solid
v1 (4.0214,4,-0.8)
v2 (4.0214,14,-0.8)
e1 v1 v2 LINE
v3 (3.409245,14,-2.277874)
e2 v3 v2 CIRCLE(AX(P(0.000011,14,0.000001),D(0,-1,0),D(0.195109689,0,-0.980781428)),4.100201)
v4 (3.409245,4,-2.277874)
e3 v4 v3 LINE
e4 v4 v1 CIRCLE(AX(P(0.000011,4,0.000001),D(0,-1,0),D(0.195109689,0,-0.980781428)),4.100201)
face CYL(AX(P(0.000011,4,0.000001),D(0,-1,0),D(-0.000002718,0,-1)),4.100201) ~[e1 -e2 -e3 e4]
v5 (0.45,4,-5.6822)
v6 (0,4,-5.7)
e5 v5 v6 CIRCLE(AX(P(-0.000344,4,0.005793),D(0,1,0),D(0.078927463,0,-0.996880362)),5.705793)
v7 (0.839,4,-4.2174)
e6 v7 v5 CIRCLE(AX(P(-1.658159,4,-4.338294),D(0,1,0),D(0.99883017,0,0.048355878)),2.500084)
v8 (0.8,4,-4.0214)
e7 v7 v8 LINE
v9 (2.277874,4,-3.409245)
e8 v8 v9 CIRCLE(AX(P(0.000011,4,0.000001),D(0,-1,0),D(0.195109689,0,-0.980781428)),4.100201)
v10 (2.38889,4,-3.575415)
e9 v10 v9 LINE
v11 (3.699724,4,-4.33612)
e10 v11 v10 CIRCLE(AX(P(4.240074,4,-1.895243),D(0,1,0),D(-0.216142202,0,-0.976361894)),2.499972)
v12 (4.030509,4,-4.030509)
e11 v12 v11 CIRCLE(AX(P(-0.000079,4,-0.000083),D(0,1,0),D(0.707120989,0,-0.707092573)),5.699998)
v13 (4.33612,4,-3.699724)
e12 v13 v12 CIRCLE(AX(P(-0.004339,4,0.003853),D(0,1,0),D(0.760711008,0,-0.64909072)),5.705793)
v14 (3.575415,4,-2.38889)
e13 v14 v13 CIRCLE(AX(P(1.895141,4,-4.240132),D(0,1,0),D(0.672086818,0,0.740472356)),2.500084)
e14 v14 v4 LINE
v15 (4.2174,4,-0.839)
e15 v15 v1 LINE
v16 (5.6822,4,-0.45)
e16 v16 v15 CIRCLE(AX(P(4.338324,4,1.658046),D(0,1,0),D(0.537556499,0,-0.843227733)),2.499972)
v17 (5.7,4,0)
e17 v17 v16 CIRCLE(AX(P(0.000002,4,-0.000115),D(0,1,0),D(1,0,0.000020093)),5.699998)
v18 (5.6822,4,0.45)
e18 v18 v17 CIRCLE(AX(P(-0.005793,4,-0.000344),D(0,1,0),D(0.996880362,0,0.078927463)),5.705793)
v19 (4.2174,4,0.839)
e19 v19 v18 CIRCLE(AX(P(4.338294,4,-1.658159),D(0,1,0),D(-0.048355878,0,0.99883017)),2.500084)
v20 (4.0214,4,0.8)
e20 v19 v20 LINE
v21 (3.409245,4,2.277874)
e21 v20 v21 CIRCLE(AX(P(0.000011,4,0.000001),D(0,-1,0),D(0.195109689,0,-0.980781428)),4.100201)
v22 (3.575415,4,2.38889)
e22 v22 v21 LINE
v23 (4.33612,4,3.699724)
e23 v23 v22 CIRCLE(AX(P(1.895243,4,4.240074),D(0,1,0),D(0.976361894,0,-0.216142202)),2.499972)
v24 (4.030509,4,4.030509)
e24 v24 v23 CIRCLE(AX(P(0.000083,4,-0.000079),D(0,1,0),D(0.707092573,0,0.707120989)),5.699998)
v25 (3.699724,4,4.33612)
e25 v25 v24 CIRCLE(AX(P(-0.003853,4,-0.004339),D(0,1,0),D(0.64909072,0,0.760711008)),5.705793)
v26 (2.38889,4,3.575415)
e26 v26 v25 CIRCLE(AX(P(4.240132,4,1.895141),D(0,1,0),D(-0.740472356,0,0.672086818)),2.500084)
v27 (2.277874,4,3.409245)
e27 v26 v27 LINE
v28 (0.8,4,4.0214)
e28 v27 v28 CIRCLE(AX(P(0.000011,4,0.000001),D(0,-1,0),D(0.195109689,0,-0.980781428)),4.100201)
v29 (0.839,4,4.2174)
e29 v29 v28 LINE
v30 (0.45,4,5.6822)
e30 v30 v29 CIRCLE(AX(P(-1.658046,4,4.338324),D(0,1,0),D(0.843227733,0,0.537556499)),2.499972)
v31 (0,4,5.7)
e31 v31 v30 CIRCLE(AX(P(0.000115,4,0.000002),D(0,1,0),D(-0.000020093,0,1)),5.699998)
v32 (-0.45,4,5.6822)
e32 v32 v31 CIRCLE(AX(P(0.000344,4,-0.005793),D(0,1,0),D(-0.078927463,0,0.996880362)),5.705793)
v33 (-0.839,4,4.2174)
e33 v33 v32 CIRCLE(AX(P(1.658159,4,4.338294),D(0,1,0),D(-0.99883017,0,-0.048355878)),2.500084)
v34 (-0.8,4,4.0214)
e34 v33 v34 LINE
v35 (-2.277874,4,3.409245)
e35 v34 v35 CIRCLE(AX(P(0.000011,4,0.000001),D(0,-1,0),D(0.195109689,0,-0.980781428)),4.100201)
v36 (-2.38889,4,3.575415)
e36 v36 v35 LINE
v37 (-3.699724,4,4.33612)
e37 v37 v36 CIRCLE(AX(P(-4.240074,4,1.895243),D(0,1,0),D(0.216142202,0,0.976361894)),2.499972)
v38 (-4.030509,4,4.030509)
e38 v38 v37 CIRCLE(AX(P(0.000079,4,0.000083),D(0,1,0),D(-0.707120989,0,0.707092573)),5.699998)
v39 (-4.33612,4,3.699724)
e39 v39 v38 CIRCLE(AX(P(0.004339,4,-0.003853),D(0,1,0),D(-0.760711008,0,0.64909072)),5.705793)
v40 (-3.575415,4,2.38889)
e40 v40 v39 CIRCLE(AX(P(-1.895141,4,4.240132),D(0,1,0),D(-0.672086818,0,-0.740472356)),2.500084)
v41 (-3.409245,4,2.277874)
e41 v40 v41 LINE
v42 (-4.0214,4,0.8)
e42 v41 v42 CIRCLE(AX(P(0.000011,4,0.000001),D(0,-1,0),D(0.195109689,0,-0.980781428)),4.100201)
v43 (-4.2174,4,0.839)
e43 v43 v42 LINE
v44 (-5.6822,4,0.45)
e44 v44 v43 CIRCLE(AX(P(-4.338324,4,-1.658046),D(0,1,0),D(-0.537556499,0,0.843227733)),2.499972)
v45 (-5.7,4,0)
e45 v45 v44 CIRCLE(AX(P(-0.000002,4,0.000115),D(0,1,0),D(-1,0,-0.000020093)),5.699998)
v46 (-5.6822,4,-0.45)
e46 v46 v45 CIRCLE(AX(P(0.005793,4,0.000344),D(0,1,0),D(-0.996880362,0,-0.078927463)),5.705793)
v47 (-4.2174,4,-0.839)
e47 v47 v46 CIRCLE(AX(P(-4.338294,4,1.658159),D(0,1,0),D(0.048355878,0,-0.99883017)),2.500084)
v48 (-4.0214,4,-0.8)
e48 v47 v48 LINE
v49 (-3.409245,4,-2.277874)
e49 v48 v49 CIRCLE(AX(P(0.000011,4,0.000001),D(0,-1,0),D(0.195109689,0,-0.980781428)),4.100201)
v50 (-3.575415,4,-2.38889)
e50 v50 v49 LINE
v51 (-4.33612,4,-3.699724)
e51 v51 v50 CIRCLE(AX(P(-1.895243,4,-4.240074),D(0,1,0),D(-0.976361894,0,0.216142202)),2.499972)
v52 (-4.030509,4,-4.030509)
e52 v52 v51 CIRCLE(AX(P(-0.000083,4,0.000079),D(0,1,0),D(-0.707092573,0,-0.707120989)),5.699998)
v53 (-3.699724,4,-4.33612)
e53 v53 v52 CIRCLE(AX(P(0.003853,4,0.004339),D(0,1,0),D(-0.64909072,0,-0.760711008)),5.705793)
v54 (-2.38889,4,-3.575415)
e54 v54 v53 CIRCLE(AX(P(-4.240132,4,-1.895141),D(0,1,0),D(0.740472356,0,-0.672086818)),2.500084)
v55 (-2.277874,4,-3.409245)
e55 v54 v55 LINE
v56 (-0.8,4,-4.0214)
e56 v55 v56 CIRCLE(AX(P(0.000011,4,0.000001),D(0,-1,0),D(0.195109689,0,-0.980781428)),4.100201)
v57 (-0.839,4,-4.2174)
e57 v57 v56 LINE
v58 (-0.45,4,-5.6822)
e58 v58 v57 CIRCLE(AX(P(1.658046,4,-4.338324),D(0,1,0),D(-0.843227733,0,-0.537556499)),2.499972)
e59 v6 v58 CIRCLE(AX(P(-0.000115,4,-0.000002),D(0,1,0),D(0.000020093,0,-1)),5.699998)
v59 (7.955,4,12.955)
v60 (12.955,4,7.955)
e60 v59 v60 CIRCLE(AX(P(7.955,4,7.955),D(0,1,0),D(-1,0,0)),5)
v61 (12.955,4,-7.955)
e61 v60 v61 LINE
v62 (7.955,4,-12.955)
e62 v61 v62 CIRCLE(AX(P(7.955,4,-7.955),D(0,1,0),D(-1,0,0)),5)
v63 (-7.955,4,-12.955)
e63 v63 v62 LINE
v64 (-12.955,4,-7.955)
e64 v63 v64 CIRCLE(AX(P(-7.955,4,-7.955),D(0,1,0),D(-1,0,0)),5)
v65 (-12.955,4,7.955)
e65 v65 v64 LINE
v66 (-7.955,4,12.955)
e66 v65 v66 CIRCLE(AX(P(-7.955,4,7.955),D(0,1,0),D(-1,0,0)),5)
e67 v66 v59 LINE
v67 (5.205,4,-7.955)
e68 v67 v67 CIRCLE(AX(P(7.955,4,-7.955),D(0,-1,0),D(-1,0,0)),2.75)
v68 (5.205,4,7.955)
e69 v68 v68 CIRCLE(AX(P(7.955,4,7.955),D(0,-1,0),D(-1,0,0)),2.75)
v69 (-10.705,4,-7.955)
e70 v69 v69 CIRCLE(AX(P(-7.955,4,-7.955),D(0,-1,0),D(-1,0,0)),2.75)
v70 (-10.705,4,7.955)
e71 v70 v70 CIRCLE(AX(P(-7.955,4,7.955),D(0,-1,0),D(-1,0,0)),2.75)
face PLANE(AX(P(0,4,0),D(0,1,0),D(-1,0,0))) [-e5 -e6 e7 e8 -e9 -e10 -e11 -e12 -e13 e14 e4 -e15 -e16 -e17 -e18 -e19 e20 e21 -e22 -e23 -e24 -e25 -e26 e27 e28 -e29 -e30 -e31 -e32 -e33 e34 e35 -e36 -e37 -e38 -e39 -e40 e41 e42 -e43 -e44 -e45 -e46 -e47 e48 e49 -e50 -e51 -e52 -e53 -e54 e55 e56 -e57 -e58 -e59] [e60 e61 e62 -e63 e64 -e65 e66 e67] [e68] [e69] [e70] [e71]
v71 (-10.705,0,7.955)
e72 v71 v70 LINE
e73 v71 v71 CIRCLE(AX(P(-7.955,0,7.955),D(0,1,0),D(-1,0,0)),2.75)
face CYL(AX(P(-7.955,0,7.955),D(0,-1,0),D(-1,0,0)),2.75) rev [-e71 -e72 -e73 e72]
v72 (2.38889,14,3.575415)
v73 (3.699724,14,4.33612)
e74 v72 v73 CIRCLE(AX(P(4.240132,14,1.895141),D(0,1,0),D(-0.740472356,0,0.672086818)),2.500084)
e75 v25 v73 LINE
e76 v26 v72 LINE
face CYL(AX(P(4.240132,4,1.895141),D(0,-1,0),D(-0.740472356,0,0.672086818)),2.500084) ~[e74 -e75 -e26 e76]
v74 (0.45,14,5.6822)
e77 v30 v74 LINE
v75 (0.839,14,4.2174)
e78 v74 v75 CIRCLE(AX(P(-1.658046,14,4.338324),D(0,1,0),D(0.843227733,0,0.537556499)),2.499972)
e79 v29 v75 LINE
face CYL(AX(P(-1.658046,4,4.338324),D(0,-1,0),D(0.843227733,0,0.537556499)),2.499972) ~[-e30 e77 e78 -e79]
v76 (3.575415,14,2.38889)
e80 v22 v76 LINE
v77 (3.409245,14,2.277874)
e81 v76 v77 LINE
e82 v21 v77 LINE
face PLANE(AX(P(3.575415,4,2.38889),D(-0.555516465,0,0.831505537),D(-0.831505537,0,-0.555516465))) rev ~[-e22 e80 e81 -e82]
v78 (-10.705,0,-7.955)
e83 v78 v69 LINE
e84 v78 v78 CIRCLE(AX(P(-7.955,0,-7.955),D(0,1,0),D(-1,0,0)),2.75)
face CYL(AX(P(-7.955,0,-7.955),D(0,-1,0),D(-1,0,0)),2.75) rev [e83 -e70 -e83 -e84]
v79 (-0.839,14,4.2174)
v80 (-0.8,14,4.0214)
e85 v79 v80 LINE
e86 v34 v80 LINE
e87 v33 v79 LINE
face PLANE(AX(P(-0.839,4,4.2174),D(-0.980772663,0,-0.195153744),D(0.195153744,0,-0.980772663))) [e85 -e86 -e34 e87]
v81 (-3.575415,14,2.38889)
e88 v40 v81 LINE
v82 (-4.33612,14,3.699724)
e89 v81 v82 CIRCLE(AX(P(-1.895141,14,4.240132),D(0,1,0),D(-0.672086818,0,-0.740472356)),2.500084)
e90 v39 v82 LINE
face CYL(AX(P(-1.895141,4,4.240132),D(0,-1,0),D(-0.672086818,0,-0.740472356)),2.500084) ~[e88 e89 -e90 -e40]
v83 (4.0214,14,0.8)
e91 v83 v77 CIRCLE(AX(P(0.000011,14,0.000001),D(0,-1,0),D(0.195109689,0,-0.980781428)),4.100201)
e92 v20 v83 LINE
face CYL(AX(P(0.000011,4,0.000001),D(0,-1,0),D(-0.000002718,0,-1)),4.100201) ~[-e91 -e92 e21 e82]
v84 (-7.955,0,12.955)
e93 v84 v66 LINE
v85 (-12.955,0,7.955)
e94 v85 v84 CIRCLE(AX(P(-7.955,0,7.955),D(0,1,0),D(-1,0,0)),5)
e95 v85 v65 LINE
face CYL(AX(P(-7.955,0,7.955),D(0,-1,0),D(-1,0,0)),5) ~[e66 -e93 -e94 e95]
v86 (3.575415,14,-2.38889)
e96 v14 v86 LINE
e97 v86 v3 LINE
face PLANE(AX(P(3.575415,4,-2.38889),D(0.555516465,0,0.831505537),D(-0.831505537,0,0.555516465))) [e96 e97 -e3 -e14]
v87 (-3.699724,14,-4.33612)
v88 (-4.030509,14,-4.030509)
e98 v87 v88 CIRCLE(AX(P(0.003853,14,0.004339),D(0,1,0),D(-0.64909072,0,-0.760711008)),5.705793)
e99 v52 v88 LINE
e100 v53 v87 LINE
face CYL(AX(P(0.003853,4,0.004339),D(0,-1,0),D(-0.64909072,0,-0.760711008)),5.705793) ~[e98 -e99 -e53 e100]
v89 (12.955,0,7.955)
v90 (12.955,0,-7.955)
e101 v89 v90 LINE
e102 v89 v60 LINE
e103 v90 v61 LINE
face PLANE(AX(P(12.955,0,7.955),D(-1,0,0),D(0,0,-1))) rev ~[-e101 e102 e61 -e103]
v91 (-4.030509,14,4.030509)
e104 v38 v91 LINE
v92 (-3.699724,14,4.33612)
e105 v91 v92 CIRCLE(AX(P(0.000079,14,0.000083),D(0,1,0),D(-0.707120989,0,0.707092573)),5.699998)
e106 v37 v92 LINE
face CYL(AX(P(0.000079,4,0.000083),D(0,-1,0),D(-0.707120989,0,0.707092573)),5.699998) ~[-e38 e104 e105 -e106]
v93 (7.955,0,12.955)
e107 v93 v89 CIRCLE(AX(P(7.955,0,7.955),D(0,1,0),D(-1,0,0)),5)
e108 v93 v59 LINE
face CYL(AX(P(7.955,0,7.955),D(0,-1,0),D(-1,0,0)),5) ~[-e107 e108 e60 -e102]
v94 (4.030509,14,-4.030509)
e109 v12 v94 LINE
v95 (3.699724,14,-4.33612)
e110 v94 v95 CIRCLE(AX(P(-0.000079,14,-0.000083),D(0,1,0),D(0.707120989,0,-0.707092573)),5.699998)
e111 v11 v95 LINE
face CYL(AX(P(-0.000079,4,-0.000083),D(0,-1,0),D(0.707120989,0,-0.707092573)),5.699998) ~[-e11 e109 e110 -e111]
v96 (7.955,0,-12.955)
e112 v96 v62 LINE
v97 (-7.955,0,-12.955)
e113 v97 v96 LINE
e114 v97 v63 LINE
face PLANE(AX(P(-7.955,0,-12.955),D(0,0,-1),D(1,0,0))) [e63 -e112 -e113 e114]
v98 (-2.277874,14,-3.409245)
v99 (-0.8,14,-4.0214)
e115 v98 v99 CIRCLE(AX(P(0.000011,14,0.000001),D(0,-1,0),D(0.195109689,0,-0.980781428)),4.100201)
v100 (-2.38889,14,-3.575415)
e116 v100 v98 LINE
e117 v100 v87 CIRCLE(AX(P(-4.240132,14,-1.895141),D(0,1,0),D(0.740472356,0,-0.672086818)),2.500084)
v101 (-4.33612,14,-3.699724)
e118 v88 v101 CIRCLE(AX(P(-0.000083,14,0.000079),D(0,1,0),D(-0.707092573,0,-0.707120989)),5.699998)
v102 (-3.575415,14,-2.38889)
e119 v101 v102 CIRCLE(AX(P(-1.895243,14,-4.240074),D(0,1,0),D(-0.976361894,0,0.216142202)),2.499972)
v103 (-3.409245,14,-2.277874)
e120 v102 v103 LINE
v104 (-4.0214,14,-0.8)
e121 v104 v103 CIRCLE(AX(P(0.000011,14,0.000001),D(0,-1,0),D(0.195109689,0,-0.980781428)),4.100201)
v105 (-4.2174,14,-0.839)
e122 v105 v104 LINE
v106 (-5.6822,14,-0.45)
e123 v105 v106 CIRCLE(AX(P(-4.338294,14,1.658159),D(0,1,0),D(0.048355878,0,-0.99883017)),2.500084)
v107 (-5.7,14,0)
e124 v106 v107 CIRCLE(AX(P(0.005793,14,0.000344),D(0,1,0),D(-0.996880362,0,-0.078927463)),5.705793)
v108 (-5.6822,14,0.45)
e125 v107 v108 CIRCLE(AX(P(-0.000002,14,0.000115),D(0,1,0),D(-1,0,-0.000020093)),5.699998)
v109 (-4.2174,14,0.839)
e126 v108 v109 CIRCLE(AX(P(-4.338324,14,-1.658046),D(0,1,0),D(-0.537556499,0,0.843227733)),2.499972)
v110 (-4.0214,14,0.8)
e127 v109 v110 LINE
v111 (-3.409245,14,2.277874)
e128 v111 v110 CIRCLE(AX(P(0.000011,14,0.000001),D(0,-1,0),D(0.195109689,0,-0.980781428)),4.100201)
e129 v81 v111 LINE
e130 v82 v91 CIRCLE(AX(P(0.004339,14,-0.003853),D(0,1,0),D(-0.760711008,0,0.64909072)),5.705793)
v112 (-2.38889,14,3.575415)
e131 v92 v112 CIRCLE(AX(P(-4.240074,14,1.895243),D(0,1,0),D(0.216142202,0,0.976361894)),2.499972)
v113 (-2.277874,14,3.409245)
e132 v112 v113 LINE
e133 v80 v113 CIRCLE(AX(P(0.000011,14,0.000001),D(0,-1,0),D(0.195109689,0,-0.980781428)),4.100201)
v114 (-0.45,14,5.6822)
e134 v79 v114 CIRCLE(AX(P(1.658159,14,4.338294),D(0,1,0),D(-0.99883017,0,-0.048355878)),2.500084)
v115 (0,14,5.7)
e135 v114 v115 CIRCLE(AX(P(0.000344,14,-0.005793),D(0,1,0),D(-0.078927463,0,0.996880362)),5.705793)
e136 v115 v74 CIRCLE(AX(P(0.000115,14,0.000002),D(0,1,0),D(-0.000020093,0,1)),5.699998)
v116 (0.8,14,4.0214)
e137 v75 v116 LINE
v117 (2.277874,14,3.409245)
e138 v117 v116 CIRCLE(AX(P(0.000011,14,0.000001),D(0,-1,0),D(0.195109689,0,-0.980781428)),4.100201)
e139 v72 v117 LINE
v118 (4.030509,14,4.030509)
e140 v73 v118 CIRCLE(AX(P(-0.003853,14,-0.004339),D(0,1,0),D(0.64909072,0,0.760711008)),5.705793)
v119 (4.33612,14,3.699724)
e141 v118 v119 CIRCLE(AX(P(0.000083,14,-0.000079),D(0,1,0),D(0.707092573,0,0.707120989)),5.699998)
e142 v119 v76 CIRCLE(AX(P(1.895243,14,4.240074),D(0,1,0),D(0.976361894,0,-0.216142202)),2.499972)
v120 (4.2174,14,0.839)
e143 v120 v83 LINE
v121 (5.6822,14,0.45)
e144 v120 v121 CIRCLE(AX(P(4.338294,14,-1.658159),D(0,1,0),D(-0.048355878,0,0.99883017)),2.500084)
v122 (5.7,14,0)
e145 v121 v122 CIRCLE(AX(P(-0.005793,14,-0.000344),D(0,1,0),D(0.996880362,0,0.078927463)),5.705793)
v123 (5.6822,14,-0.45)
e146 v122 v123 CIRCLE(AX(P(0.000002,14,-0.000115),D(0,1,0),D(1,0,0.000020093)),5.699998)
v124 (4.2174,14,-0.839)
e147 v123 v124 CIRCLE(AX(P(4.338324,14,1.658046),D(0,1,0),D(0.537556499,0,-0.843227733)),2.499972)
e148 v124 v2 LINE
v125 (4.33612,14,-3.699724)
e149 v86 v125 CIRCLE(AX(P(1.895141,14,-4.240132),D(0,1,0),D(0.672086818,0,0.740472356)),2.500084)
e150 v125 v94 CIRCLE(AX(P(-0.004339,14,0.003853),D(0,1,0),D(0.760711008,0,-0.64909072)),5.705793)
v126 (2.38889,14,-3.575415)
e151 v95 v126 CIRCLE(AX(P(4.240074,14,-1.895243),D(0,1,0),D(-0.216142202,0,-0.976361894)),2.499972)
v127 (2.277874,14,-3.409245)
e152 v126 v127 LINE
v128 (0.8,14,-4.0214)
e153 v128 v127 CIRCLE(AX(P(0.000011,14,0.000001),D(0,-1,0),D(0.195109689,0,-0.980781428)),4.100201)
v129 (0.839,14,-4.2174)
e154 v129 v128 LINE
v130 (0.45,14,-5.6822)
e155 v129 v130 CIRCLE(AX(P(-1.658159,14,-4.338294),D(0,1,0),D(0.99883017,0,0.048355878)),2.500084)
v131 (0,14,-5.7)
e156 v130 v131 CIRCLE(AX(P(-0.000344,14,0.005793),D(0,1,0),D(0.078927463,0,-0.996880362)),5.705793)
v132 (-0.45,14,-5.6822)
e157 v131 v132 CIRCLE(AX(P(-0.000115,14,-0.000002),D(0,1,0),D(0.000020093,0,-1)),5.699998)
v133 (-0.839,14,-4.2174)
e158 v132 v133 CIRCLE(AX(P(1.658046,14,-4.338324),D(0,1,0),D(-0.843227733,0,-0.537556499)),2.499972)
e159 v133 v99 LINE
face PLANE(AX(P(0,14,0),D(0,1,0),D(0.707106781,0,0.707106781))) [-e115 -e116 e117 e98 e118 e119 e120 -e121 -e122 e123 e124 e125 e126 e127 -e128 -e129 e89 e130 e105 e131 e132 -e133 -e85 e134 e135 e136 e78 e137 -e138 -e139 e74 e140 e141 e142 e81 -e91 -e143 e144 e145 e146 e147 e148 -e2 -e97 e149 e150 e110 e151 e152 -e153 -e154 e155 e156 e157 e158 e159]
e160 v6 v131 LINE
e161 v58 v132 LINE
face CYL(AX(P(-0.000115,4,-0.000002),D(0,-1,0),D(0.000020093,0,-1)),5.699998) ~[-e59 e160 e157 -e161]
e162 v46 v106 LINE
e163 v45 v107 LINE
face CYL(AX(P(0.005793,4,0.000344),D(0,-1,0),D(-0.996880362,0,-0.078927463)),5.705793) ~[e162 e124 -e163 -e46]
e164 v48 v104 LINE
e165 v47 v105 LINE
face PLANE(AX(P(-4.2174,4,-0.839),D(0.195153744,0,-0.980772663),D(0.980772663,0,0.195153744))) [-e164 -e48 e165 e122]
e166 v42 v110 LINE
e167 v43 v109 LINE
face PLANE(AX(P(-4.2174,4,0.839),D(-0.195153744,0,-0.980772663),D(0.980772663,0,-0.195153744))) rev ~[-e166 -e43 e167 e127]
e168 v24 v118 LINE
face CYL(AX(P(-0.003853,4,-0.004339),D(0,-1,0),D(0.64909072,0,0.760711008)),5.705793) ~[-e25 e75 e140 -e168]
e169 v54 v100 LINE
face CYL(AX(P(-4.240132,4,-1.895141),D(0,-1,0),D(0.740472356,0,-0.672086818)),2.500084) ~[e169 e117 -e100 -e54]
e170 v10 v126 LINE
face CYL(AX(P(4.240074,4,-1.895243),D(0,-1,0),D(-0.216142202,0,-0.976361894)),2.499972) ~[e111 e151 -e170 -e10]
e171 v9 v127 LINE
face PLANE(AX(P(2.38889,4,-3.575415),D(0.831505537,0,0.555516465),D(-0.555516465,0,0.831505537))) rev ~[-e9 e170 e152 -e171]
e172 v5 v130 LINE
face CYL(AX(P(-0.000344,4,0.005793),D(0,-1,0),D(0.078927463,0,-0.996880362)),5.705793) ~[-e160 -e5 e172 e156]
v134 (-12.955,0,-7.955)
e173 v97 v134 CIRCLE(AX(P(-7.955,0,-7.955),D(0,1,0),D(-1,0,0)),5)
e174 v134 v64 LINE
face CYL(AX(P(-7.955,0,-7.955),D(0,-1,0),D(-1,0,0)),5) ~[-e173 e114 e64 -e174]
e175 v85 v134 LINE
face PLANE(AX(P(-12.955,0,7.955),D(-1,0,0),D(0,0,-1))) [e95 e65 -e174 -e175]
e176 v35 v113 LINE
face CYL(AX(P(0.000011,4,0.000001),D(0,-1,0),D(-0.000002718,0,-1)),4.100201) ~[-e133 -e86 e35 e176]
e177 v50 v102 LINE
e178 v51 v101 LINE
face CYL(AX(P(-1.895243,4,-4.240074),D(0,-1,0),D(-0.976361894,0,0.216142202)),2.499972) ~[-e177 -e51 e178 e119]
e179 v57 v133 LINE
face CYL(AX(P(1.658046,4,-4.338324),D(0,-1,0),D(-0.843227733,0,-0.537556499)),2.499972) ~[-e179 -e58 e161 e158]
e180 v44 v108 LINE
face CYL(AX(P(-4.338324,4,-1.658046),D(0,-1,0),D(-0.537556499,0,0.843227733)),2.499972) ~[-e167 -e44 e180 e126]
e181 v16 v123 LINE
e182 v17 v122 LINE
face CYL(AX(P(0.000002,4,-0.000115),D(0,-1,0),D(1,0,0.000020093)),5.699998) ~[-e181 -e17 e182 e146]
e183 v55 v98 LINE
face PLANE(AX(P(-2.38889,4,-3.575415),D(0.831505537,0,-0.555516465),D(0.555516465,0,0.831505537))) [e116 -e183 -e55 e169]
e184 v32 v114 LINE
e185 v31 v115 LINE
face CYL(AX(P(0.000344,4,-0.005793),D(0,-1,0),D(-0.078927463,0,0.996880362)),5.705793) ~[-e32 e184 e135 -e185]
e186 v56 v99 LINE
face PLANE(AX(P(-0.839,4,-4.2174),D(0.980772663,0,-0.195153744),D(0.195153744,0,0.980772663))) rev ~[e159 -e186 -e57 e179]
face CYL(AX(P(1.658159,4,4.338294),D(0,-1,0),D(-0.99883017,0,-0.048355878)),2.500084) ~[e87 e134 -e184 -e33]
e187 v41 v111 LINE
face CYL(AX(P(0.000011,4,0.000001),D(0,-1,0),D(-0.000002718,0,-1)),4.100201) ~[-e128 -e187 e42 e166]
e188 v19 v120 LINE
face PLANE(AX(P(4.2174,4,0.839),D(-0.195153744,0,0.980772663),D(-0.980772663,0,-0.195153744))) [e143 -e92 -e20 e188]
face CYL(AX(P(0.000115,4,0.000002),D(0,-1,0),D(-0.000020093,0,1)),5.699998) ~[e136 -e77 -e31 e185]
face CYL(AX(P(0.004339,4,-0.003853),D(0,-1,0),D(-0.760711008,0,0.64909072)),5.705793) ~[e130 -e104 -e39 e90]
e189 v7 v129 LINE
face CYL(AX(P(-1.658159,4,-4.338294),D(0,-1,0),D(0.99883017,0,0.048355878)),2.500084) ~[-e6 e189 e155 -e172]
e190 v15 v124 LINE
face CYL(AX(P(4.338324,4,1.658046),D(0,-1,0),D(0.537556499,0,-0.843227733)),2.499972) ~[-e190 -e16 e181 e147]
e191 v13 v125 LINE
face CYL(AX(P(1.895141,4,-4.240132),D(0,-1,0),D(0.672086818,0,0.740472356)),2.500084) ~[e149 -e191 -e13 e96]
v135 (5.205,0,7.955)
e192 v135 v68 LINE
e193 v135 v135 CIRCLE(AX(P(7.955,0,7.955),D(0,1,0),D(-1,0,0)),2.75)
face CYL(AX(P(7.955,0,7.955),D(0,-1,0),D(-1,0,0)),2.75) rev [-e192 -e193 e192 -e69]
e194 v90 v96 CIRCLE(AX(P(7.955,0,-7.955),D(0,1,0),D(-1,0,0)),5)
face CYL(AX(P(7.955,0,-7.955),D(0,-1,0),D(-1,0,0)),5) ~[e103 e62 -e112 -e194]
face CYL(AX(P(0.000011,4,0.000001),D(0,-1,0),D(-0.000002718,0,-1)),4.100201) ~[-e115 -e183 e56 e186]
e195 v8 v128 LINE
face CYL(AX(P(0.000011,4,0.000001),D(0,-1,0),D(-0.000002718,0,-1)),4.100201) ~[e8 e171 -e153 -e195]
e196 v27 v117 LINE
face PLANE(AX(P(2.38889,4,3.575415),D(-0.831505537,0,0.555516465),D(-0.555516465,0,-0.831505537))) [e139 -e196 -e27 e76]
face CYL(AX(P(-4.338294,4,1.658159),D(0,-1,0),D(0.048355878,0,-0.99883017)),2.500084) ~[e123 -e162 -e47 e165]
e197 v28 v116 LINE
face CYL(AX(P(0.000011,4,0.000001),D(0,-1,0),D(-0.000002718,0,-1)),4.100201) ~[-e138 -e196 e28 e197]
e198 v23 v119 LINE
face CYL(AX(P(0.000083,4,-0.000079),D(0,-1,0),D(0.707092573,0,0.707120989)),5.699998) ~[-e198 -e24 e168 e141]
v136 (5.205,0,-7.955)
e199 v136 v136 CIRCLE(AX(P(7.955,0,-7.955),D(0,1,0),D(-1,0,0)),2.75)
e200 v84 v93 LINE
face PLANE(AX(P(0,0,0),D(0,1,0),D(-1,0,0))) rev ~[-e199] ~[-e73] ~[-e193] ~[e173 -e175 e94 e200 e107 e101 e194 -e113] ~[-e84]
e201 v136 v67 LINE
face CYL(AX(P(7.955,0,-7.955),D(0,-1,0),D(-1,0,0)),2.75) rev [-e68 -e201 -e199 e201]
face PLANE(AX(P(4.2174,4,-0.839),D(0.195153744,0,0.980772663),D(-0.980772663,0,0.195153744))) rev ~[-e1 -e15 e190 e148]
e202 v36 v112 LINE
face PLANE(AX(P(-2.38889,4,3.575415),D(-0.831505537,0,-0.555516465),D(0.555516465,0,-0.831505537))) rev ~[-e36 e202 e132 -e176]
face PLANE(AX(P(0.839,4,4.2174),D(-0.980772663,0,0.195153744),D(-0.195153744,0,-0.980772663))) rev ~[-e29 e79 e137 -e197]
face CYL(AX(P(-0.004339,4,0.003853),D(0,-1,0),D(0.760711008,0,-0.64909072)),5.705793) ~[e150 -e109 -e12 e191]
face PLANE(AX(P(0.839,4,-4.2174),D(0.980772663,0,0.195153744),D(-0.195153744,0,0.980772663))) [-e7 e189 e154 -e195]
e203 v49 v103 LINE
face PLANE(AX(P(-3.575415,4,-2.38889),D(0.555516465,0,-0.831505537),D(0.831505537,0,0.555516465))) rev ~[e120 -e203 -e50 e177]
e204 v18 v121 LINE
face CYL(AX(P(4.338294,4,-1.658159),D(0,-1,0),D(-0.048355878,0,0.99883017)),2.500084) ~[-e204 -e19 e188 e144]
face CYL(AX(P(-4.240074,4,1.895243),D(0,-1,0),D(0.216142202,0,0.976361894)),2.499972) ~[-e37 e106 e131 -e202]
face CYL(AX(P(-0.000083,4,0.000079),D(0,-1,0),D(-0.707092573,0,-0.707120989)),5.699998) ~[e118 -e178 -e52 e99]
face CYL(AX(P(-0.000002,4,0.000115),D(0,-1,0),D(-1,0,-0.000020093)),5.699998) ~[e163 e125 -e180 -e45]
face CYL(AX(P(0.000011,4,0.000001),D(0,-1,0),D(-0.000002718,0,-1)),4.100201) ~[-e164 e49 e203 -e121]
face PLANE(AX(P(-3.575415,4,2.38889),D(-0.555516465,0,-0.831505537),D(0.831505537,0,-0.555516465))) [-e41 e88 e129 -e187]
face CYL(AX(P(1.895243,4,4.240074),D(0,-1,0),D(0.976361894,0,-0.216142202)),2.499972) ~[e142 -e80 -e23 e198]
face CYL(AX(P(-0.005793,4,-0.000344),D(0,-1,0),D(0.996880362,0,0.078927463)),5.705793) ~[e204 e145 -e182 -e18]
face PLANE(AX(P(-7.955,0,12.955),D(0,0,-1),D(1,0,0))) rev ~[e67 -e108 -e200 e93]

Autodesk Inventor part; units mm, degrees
ref_plane "YZ Plane" through (0, 0, 0) normal (1, 0, 0) x (0, 1, 0)
ref_plane "XZ Plane" through (0, 0, 0) normal (0, 1, 0) x (-1, 0, 0)
ref_plane "XY Plane" through (0, 0, 0) normal (0, 0, 1) x (1, 0, 0)
sketch "Sketch1" plane through (0, 0, 0) normal (0, 1, 0) x (-1, 0, 0)
  line L0 (7.955, -7.955) -> (-7.955, -7.955)
  line L1 (-7.955, -7.955) -> (-7.955, 7.955)
  line L2 (-7.955, 7.955) -> (7.955, 7.955)
  line L3 (7.955, 7.955) -> (7.955, -7.955)
  circle A0 centre (7.955, -7.955) radius 5
  circle A1 centre (7.955, -7.955) radius 2.75
  line L4 (0, 0) -> (4.4409, 0)
  line L5 (0, 0) -> (0, 4.5835)
  circle A2 centre (7.955, 7.955) radius 5
  circle A3 centre (7.955, 7.955) radius 2.75
  circle A4 centre (-7.955, -7.955) radius 5
  circle A5 centre (-7.955, -7.955) radius 2.75
  circle A6 centre (-7.955, 7.955) radius 2.75
  circle A7 centre (-7.955, 7.955) radius 5
  line L6 (12.955, 7.955) -> (12.955, -7.955)
  line L7 (7.955, -12.955) -> (-7.955, -12.955)
  line L8 (7.955, 12.955) -> (-7.955, 12.955)
  line L9 (-12.955, 7.955) -> (-12.955, -7.955)
  dimension "d0" = 11.25
  dimension "d1" = 10
  dimension "d2" = 5.5
extrude "Extrusion1" add sketch "Sketch1" along normal blind 4 contours A4 L1 A5 L0 | A4 L1 A7 L2 A2 L3 A0 L0 | L0 A0 L7 A4 | L0 A5 L1 A4 | A0 L3 A1 L0 | L0 A1 L3 A0 | A4 L9 A7 L1 | L3 A2 L6 A0 | A7 L2 A6 L1 | L1 A6 L2 A7 | A2 L2 A3 L3 | L3 A3 L2 A2 | A7 L8 A2 L2
sketch "Sketch2" plane through (0, 4, 0) normal (0, 1, 0) x (1, 0, 0)
  arc A0 (0.45, 5.6822) -> (0, 5.7) centre (0, 0) ccw
  arc A1 (0.7683, 4.9406) -> (0, 5) centre (0, 0) ccw construction
  arc A2 (0.8, 4.0214) -> (0, 4.1002) centre (0, 0) ccw
  line L0 (0.839, 4.2174) -> (0.8, 4.0214)
  arc A3 (0.839, 4.2174) -> (0, 4.3) centre (0, 0) ccw construction
  arc A4 (0.839, 4.2174) -> (0.45, 5.6822) centre (-1.6581, 4.3383) ccw
  line L1 (-0.839, 4.2174) -> (-0.8, 4.0214)
  arc A5 (-0.45, 5.6822) -> (-0.839, 4.2174) centre (1.6581, 4.3383) ccw
  arc A6 (0, 5) -> (0.7683, 4.9406) centre (0, 0) ccw construction
  arc A7 (0, 5.7) -> (0.45, 5.6822) centre (0, 0) ccw
  arc A8 (0, 4.3) -> (0.839, 4.2174) centre (0, 0) ccw construction
  arc A9 (0, 4.1002) -> (0.8, 4.0214) centre (0, 0) ccw
  dimension "d12" = 10
  dimension "d13" = 2.5
  dimension "d14" = 0.7
  dimension "d15" = 0.7
  dimension "d16" = 0.1998
  dimension "d17" = 0.8
  dimension "d18" = 0.45
extrude "Extrusion2" add sketch "Sketch2" along normal blind 10 contours A9 A2
extrude "Extrusion3" add sketch "Sketch2" along normal blind 10 contours A4 L0 A2 A9 L1 A5 A7 A0
pattern_circular "Circular Pattern1" count 8 over 360 about axis through (0, 4, 0) along (0, 1, 0) of "Extrusion2", "Extrusion3"
properties part number "Carrier_V2_CPY" material "Polystyrene"
